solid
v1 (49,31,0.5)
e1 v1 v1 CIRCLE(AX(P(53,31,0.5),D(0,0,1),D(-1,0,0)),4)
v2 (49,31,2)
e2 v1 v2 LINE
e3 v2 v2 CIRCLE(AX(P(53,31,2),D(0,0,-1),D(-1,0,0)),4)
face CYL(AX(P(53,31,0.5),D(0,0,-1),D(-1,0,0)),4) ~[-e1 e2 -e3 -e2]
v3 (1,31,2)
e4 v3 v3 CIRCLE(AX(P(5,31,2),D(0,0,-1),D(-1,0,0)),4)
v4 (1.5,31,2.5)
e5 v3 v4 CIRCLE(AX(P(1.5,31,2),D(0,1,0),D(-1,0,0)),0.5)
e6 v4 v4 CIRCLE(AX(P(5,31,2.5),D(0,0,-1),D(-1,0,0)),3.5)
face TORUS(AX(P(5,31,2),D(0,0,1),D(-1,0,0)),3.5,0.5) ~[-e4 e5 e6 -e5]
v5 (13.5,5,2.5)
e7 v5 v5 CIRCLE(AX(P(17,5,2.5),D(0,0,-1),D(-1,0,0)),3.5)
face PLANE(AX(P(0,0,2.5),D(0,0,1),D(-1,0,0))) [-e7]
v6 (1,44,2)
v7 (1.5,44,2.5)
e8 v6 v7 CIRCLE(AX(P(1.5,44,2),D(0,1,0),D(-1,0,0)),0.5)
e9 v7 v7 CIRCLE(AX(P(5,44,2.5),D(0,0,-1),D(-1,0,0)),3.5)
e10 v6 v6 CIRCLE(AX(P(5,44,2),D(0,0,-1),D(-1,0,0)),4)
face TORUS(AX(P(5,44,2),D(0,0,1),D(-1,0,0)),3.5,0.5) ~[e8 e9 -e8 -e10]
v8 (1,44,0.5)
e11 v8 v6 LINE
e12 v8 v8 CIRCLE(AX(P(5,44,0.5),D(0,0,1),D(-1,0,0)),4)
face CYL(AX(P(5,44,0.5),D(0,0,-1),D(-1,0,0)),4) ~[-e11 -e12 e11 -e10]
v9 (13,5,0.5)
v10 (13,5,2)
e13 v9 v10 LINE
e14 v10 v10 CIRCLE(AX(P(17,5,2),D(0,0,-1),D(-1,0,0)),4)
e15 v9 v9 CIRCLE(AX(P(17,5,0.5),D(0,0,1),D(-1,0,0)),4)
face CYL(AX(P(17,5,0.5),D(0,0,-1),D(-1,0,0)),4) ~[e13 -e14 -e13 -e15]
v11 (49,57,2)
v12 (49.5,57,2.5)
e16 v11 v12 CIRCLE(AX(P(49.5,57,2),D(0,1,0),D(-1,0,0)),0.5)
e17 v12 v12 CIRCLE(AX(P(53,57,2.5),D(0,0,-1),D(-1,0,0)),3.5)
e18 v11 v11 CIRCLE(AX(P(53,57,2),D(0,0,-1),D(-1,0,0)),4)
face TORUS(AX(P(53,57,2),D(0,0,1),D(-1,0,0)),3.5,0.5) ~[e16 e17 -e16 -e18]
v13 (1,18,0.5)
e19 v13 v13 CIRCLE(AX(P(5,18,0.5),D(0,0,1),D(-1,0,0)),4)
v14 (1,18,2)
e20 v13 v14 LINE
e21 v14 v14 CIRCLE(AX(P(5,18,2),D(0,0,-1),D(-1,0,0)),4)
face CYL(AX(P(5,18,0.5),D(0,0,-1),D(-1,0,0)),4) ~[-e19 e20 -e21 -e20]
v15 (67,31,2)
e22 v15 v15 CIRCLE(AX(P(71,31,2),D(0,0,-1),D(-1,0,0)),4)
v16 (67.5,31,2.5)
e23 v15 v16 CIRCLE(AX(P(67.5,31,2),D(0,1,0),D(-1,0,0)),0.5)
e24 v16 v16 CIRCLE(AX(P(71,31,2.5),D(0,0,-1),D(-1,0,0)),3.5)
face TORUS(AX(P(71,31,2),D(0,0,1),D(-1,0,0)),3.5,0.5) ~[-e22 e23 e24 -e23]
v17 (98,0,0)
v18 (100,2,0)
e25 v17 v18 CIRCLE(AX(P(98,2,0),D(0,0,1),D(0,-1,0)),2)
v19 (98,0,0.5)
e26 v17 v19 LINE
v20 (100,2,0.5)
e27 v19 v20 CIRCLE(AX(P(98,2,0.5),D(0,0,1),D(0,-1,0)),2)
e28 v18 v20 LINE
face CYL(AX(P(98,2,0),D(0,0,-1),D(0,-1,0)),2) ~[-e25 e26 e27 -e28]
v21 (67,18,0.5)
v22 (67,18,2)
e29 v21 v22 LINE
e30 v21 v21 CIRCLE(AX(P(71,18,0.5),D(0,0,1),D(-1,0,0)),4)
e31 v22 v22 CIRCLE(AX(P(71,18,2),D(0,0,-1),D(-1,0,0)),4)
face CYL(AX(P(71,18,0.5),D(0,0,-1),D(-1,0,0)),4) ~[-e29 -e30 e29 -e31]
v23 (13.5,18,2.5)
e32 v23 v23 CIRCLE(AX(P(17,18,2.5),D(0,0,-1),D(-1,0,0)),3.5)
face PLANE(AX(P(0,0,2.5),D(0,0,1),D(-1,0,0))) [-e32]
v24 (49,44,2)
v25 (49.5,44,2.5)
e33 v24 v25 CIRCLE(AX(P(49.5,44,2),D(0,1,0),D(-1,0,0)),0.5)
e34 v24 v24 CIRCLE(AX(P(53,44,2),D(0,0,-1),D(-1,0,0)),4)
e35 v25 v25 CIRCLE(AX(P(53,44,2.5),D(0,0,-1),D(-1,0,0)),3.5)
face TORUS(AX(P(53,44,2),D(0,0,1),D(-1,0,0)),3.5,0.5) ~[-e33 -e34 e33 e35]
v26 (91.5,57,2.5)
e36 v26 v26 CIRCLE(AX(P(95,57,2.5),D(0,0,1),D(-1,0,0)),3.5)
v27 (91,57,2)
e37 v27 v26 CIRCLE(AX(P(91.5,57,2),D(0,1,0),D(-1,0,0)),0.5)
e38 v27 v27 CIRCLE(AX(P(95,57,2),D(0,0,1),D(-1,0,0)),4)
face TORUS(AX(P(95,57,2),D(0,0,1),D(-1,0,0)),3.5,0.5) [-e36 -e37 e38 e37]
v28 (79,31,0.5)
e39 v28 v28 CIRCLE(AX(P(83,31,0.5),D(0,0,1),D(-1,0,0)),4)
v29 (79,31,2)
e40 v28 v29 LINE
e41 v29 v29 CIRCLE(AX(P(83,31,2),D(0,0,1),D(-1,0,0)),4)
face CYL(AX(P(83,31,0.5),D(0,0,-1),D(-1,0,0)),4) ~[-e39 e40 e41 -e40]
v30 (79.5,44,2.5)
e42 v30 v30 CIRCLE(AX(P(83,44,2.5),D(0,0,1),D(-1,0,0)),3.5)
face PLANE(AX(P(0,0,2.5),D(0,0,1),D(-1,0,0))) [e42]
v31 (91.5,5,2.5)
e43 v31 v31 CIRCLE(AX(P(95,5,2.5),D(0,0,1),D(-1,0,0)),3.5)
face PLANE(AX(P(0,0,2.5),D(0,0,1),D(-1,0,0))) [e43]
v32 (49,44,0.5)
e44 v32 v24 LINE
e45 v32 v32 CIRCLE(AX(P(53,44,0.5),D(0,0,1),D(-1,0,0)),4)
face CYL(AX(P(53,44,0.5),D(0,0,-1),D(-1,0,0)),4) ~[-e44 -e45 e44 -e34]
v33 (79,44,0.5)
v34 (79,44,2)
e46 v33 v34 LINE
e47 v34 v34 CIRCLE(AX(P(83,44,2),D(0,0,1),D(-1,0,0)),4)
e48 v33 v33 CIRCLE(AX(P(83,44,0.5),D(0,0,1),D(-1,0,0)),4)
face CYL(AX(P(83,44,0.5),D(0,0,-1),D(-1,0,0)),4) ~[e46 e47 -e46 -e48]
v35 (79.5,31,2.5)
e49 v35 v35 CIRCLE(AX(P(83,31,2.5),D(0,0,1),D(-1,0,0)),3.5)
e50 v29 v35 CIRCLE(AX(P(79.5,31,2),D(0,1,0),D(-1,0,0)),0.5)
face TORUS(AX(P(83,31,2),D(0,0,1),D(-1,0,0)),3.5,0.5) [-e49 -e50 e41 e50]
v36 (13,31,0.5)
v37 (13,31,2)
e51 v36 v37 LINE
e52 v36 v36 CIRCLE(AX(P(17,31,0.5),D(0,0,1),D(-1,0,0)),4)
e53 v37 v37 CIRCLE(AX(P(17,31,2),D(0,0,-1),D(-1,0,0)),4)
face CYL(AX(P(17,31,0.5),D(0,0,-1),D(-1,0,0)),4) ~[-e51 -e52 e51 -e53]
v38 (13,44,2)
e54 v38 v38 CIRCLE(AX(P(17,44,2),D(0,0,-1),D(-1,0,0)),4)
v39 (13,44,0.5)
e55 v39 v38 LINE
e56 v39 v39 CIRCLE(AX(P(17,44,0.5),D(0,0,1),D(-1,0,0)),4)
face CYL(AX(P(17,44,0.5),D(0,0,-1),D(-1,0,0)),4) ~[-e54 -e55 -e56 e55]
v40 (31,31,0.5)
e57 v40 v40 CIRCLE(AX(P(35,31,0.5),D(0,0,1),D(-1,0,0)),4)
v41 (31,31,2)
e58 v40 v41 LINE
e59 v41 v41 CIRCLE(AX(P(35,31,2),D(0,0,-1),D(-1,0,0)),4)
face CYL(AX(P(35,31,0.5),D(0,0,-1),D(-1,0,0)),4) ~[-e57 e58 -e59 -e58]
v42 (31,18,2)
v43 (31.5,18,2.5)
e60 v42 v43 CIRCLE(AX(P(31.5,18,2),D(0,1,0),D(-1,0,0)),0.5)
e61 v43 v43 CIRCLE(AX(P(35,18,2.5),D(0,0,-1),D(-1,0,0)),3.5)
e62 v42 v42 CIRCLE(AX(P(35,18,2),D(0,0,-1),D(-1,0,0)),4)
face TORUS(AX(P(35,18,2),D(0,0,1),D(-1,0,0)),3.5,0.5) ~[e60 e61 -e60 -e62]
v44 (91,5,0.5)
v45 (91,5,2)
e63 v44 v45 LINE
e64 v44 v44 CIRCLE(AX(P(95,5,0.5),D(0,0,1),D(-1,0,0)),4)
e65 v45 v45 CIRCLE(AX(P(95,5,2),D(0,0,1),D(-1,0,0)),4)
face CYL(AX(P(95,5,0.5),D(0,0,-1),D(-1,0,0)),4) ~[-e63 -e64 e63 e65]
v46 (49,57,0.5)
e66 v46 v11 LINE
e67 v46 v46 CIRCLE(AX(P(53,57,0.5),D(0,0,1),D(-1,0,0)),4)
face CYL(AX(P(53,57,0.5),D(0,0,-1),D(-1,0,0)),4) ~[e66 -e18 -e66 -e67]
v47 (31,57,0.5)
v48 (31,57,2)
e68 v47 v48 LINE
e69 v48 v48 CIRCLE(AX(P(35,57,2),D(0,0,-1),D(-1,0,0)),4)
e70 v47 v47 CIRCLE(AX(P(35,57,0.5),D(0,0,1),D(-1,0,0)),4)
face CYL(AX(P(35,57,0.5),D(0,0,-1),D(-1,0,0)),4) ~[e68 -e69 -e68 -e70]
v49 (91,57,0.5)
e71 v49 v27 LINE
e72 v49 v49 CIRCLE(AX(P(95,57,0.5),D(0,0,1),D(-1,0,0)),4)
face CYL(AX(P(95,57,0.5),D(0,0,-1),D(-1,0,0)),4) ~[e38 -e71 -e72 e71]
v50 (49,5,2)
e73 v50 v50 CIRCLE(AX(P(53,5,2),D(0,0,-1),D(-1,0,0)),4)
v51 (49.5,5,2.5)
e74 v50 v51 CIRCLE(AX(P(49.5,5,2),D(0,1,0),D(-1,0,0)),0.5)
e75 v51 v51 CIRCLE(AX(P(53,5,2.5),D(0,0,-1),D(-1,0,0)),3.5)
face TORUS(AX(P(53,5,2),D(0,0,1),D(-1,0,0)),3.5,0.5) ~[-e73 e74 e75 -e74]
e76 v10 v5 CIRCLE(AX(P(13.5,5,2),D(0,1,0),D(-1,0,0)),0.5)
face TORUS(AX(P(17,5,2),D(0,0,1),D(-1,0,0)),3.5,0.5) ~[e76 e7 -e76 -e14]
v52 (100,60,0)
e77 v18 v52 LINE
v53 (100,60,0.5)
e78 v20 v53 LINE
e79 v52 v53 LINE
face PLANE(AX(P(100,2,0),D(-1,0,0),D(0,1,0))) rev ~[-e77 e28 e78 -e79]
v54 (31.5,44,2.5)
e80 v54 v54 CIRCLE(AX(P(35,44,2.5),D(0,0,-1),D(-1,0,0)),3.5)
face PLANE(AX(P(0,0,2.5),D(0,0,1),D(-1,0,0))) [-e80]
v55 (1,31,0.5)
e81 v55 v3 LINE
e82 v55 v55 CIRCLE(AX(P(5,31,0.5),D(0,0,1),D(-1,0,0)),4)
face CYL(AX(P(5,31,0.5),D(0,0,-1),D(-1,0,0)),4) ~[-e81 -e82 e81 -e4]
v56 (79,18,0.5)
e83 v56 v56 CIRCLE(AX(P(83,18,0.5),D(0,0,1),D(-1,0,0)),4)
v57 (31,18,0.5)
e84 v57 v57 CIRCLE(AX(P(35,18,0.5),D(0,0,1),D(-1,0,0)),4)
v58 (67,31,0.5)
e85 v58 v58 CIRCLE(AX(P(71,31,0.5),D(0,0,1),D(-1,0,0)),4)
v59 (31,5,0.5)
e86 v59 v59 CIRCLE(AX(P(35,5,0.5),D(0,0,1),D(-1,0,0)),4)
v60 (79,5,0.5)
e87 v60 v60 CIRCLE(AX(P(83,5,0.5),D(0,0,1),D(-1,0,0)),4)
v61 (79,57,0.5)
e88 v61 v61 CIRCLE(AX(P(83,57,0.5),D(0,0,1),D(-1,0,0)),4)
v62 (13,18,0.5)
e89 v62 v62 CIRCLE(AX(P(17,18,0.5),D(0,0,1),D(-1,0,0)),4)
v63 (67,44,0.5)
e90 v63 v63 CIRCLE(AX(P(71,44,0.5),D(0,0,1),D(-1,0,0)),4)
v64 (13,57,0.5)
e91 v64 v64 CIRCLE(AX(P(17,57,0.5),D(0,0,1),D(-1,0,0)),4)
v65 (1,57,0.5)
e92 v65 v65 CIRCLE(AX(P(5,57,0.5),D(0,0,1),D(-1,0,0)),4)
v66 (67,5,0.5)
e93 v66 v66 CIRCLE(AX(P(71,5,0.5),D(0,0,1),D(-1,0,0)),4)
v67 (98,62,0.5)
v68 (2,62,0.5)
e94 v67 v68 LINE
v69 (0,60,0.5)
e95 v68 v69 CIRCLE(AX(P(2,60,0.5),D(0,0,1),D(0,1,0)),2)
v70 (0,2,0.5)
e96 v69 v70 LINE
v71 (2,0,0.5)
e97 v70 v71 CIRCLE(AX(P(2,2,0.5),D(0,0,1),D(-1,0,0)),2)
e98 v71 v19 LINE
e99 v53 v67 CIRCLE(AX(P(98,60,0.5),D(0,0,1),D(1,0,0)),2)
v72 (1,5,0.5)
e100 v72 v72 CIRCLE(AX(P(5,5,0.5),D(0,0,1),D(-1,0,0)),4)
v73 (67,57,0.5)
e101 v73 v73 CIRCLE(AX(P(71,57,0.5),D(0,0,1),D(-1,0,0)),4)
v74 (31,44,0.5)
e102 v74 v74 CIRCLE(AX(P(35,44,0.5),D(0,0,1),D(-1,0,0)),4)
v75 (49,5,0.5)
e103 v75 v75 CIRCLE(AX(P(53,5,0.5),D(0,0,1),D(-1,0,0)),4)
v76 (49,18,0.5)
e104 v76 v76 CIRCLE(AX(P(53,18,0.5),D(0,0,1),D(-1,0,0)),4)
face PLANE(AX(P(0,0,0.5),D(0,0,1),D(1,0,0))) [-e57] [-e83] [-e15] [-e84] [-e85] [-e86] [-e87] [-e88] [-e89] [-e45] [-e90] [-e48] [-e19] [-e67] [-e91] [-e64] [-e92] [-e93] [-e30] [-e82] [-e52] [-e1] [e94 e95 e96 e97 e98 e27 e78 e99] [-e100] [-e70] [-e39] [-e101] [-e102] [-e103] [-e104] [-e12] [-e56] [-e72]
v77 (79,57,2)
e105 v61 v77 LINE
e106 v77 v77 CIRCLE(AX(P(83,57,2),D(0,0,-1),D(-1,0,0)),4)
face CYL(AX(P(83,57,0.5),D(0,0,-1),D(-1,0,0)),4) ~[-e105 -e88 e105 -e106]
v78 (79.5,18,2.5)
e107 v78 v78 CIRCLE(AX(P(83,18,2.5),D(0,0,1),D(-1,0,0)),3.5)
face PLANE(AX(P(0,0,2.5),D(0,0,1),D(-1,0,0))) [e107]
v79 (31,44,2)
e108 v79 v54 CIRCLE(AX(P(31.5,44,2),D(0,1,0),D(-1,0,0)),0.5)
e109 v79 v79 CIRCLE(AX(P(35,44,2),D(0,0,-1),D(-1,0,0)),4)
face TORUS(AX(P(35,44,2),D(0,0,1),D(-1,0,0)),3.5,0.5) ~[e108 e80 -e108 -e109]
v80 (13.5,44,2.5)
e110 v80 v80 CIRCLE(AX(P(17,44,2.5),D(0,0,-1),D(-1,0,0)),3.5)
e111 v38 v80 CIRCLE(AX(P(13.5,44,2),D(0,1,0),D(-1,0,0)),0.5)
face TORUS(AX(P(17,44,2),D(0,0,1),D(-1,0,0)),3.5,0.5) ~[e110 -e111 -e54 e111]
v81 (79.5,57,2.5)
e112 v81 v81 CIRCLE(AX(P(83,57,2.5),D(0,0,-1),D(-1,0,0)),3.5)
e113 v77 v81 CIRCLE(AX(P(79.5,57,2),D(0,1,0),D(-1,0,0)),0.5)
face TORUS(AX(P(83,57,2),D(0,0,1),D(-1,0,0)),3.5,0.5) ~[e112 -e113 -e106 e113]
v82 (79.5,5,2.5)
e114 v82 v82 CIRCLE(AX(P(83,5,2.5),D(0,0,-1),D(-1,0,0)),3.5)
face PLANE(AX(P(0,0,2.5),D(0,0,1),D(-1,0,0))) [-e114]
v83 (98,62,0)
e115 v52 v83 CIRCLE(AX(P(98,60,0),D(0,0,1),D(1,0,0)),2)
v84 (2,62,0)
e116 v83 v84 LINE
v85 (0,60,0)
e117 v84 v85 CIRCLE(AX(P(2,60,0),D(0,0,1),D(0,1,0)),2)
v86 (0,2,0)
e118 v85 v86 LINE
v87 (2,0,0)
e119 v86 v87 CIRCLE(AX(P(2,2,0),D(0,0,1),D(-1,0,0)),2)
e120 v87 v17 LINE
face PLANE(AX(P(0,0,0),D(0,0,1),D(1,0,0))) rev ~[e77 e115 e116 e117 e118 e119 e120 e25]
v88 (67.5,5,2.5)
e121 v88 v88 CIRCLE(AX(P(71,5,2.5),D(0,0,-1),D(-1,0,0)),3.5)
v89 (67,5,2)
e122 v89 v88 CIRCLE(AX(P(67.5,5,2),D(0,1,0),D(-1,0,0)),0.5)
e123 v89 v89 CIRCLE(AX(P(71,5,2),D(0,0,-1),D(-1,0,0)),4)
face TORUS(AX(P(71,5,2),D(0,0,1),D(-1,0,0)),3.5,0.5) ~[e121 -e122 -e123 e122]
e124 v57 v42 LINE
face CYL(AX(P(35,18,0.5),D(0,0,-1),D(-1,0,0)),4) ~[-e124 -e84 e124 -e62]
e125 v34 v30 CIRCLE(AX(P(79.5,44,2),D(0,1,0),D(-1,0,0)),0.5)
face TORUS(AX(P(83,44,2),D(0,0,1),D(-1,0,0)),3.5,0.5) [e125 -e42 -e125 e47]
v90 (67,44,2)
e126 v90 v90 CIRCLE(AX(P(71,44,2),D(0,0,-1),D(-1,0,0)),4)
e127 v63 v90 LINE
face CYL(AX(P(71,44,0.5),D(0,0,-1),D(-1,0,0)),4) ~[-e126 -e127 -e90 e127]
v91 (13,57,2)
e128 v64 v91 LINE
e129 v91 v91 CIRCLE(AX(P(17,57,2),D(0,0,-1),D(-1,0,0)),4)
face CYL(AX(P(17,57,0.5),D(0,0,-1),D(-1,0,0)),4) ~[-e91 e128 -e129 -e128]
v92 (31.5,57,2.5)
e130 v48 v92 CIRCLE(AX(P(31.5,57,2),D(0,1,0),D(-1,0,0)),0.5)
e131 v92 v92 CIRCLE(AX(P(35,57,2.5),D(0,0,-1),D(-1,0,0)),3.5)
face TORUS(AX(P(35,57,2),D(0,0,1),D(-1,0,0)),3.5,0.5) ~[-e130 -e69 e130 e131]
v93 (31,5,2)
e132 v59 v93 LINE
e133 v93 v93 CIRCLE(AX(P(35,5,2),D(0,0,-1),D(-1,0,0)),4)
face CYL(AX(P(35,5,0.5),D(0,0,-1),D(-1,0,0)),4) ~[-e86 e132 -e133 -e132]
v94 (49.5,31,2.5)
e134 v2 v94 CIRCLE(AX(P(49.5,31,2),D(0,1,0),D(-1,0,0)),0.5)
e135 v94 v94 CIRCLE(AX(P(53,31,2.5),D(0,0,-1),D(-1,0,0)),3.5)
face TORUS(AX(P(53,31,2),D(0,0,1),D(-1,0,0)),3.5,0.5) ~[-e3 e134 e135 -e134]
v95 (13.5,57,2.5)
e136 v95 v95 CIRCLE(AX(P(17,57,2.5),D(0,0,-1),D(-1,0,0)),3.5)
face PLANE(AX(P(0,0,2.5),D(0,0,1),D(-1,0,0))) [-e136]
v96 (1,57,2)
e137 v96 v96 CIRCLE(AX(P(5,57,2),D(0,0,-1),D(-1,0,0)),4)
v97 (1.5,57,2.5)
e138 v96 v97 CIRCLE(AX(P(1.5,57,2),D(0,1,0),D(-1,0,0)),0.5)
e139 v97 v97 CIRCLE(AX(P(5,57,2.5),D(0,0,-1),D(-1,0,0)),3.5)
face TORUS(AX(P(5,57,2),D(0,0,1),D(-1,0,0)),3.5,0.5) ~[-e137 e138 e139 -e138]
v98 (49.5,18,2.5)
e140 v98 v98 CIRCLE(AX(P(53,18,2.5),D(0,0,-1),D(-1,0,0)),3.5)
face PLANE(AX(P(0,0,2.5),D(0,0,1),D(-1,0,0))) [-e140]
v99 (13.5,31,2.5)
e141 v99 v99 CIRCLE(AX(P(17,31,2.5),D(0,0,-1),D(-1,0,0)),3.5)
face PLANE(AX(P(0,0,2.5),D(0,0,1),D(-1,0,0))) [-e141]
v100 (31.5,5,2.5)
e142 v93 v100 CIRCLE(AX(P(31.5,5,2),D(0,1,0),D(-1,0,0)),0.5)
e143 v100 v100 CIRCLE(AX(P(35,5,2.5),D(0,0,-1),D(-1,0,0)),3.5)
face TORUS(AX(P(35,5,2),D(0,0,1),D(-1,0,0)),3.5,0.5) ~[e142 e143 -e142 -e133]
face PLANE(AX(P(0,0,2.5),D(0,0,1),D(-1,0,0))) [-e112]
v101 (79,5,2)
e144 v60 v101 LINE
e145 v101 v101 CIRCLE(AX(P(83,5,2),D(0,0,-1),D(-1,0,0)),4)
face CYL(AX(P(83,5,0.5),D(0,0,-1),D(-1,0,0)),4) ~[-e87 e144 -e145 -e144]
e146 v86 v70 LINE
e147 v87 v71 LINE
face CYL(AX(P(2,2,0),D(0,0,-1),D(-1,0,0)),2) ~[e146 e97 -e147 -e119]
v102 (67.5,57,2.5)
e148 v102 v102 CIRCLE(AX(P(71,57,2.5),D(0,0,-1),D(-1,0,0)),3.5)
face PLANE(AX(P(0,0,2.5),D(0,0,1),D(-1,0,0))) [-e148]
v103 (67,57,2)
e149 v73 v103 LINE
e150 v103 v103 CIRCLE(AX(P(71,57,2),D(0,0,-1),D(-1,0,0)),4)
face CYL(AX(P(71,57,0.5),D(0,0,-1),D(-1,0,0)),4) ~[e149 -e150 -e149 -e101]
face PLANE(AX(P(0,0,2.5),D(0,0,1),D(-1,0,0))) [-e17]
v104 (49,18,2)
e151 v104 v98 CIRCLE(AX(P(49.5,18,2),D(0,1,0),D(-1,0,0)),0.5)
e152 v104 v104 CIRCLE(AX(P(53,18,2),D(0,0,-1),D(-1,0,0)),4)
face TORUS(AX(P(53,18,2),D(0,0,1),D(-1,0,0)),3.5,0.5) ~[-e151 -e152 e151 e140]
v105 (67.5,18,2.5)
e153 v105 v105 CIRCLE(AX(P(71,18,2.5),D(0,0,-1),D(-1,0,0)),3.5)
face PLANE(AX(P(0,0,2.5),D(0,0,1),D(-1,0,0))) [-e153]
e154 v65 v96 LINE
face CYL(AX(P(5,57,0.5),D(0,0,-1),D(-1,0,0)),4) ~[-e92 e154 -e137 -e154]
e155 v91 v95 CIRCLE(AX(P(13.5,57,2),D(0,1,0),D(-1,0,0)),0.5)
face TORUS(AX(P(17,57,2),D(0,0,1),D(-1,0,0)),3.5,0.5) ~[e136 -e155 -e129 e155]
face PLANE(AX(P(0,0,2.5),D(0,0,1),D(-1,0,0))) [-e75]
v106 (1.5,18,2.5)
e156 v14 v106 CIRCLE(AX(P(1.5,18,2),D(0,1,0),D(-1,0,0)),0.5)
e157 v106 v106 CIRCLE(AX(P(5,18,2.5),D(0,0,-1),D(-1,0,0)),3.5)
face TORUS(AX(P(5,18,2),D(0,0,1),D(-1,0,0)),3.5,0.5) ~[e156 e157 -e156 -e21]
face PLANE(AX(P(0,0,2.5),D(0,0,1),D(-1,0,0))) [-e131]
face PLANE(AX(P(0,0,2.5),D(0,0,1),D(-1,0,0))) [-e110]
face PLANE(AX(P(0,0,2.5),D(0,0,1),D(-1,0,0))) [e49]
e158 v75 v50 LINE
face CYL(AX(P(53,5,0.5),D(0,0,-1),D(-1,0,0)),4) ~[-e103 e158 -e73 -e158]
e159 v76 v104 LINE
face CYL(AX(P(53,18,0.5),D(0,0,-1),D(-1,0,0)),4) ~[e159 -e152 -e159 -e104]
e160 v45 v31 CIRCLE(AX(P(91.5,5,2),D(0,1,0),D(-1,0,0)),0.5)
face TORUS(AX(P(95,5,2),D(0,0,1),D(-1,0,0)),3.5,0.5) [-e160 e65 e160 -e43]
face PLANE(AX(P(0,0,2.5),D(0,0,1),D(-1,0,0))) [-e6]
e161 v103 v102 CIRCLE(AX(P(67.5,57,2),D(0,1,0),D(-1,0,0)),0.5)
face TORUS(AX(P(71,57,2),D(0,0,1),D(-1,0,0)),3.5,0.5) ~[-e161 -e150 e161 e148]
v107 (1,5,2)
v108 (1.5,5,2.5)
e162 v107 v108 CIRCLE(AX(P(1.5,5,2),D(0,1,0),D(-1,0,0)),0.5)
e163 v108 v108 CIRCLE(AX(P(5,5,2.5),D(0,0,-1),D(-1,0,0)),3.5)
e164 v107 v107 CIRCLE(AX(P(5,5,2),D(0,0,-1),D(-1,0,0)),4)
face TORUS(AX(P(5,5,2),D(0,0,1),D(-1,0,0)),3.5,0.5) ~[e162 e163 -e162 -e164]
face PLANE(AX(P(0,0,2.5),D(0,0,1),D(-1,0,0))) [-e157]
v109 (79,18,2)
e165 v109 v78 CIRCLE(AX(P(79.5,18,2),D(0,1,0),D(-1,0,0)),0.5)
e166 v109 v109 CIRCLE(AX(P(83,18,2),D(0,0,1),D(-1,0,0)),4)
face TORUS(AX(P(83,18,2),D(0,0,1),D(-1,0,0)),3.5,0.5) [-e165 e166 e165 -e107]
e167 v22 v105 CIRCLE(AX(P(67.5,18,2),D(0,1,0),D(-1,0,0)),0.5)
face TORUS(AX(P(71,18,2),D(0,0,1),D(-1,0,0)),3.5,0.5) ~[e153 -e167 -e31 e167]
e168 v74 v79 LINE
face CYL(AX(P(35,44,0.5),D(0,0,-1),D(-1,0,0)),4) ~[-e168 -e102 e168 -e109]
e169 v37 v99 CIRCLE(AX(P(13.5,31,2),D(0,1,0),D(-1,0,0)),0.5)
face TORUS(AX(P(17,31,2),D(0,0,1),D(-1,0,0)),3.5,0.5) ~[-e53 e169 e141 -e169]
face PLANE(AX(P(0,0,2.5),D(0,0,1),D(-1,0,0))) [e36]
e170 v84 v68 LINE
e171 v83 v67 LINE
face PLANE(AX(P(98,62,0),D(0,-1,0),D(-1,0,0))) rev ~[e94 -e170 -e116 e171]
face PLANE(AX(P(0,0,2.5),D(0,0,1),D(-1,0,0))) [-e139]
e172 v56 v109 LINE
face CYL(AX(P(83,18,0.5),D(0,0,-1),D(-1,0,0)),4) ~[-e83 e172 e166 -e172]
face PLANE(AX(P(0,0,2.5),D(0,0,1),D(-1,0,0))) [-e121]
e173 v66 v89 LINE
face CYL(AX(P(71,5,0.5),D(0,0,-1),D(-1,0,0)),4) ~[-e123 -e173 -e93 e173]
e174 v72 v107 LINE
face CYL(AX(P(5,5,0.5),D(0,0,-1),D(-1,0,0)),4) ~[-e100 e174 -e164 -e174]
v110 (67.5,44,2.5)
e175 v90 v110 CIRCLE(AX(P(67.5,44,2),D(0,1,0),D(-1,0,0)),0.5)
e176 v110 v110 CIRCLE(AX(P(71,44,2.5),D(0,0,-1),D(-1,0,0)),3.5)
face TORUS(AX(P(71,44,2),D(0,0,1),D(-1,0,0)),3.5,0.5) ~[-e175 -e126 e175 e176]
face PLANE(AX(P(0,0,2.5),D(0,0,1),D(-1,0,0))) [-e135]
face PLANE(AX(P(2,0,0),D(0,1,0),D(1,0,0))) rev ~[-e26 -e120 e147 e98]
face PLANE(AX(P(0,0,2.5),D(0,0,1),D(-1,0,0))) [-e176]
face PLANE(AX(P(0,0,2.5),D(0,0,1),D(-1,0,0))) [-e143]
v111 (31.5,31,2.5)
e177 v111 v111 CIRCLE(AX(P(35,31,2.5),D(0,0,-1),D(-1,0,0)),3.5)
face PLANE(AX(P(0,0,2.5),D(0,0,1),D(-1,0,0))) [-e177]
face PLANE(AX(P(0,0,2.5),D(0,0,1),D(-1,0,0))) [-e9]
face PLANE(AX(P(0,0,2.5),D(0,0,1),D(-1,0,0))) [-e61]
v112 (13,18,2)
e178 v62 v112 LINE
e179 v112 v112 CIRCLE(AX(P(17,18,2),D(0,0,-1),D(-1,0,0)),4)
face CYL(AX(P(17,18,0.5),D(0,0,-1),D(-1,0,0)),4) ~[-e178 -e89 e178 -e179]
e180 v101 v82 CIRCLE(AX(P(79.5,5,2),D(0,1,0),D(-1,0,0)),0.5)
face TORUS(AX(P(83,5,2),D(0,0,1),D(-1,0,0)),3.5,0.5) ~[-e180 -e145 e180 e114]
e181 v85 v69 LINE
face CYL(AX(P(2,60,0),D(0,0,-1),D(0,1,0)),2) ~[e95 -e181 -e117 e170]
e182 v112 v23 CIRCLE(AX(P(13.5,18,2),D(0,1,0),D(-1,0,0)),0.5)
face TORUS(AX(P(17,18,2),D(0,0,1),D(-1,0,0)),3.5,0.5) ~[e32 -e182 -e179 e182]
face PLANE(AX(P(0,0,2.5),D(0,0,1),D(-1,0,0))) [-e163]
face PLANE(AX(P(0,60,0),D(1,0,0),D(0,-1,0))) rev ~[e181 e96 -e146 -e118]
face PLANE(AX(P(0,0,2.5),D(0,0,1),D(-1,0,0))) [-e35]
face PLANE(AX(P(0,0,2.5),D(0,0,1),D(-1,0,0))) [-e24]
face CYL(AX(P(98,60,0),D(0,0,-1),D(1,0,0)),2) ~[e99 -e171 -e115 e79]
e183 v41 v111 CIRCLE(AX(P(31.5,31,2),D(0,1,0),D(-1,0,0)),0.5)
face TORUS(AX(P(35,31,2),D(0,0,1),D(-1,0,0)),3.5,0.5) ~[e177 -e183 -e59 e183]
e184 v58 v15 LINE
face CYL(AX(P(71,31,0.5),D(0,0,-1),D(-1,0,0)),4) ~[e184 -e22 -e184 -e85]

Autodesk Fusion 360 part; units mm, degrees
sketch "Sketch1" plane through (0, 0, 0) normal (0, 0, 1) x (1, 0, 0)
  line L0 (2, 0) -> (98, 0)
  line L1 (100, 2) -> (100, 60)
  line L2 (98, 62) -> (2, 62)
  line L3 (0, 60) -> (0, 2)
  arc A0 (2, 62) -> (0, 60) centre (2, 60) ccw
  arc A1 (100, 60) -> (98, 62) centre (98, 60) ccw
  arc A2 (98, 0) -> (100, 2) centre (98, 2) ccw
  arc A3 (0, 2) -> (2, 0) centre (2, 2) ccw
  point P0 (100, 0)
  point P1 (0, 62)
  dimension "d1" = 100
  dimension "d2" = 62
  dimension "d3" = 2
extrude "Extrude1" add sketch "Sketch1" along normal blind 0.5
sketch "Sketch2" plane through (0, 0, 0.5) normal (0, 0, 1) x (-1, 0, 0)
  arc A0 (0, -2) -> (-2, 0) centre (-2, -2) ccw
  line L0 (-2, 0) -> (-98, 0)
  arc A1 (-98, 0) -> (-100, -2) centre (-98, -2) ccw
  line L1 (-100, -2) -> (-100, -60)
  arc A2 (-100, -60) -> (-98, -62) centre (-98, -60) ccw
  line L2 (-98, -62) -> (-2, -62)
  arc A3 (-2, -62) -> (0, -60) centre (-2, -60) ccw
  line L3 (0, -60) -> (0, -2)
  line L4 (-5, -44) -> (-76.5418, -44)
  line L5 (-5, -44) -> (-17, -44)
  circle A4 centre (-5, -44) radius 4
  circle A5 centre (-17, -44) radius 4
  line L6 (-17, -44) -> (-35, -44)
  circle A6 centre (-35, -44) radius 4
  line L7 (-35, -44) -> (-40.411, -44)
  line L8 (-35, -44) -> (-53, -44)
  circle A7 centre (-53, -44) radius 4
  line L9 (-53, -44) -> (-59.411, -44)
  line L10 (-53, -44) -> (-71, -44)
  circle A8 centre (-71, -44) radius 4
  line L11 (-71, -44) -> (-83, -44)
  circle A9 centre (-83, -44) radius 4
  line L12 (-5, -44) -> (-5, -57)
  line L13 (-5, -57) -> (-79.7487, -57)
  circle A10 centre (-5, -57) radius 4
  line L14 (-5, -57) -> (-17, -57)
  line L15 (-17, -57) -> (-35, -57)
  line L16 (-35, -57) -> (-53, -57)
  line L17 (-53, -57) -> (-71, -57)
  line L18 (-71, -57) -> (-83, -57)
  circle A11 centre (-17, -57) radius 4
  circle A12 centre (-35, -57) radius 4
  circle A13 centre (-53, -57) radius 4
  circle A14 centre (-71, -57) radius 4
  circle A15 centre (-83, -57) radius 4
  line L19 (-5, -44) -> (-5, -31)
  line L20 (-5, -31) -> (-5, -18)
  circle A16 centre (-5, -31) radius 4
  circle A17 centre (-5, -18) radius 4
  line L21 (-5, -18) -> (-5, -5)
  circle A18 centre (-5, -5) radius 4
  line L22 (-5, -31) -> (-6.411, -31)
  line L23 (-6.411, -31) -> (-80.411, -31)
  line L24 (-5, -18) -> (-79.9028, -18)
  line L25 (-5, -5) -> (-79.411, -5)
  line L26 (-5, -31) -> (-17, -31)
  line L27 (-5, -18) -> (-17, -18)
  line L28 (-17, -31) -> (-17.411, -31)
  line L29 (-17, -31) -> (-35, -31)
  line L30 (-35, -31) -> (-53, -31)
  line L31 (-53, -31) -> (-71, -31)
  line L32 (-71, -31) -> (-83, -31)
  line L33 (-17, -18) -> (-35, -18)
  line L34 (-35, -18) -> (-53, -18)
  line L35 (-53, -18) -> (-71, -18)
  line L36 (-71, -18) -> (-83, -18)
  line L37 (-5, -5) -> (-17, -5)
  line L38 (-17, -5) -> (-35, -5)
  line L39 (-35, -5) -> (-53, -5)
  line L40 (-53, -5) -> (-71, -5)
  line L41 (-71, -5) -> (-83, -5)
  circle A19 centre (-17, -31) radius 4
  circle A20 centre (-35, -31) radius 4
  circle A21 centre (-53, -31) radius 4
  circle A22 centre (-71, -31) radius 4
  circle A23 centre (-83, -31) radius 4
  circle A24 centre (-83, -18) radius 4
  circle A25 centre (-71, -18) radius 4
  circle A26 centre (-53, -18) radius 4
  circle A27 centre (-35, -18) radius 4
  circle A28 centre (-17, -18) radius 4
  circle A29 centre (-17, -5) radius 4
  circle A30 centre (-35, -5) radius 4
  circle A31 centre (-53, -5) radius 4
  circle A32 centre (-71, -5) radius 4
  circle A33 centre (-83, -5) radius 4
  line L42 (-83, -5) -> (-95, -5)
  circle A34 centre (-95, -5) radius 4
  line L43 (-79.7487, -57) -> (-80, -57)
  line L44 (-83, -57) -> (-95, -57)
  circle A35 centre (-95, -57) radius 4
  dimension "d6" = 12
  dimension "d7" = 8
  dimension "d8" = 8
  dimension "d9" = 18
  dimension "d10" = 8
  dimension "d11" = 18
  dimension "d12" = 8
  dimension "d13" = 18
  dimension "d14" = 8
  dimension "d15" = 12
  dimension "d16" = 8
  dimension "d17" = 13
  dimension "d18" = 8
  dimension "d19" = 12
  dimension "d20" = 18
  dimension "d21" = 18
  dimension "d22" = 18
  dimension "d23" = 12
  dimension "d24" = 8
  dimension "d25" = 8
  dimension "d26" = 8
  dimension "d27" = 8
  dimension "d28" = 8
  dimension "d29" = 13
  dimension "d30" = 13
  dimension "d31" = 8
  dimension "d32" = 8
  dimension "d33" = 13
  dimension "d34" = 8
  dimension "d35" = 12
  dimension "d36" = 12
  dimension "d37" = 18
  dimension "d38" = 18
  dimension "d39" = 18
  dimension "d40" = 12
  dimension "d41" = 18
  dimension "d42" = 18
  dimension "d43" = 18
  dimension "d44" = 12
  dimension "d45" = 12
  dimension "d46" = 18
  dimension "d47" = 18
  dimension "d48" = 18
  dimension "d49" = 12
  dimension "d50" = 8
  dimension "d51" = 8
  dimension "d52" = 8
  dimension "d53" = 8
  dimension "d54" = 8
  dimension "d55" = 8
  dimension "d56" = 8
  dimension "d57" = 8
  dimension "d58" = 8
  dimension "d59" = 8
  dimension "d60" = 8
  dimension "d61" = 8
  dimension "d62" = 8
  dimension "d63" = 8
  dimension "d64" = 8
  dimension "d65" = 12
  dimension "d66" = 8
  dimension "d67" = 5
  dimension "d68" = 5
  dimension "d76" = 12
  dimension "d77" = 8
extrude "Extrude2" add sketch "Sketch2" along normal blind 2 contours L4 L5 A5 L6 | A23 | L23 L31 L32 A22 | L23 L31 L32 A22 | L23 L30 L31 A21 | L23 L30 L31 A21 | L23 L29 L30 A20 | L23 L29 L30 A20 | L23 L26 L28 L29 A19 | L23 L26 L28 L29 A19 | A24 | L24 L35 L36 A25 | L24 L35 L36 A25 | L24 L34 L35 A26 | L24 L34 L35 A26 | L24 L33 L34 A27 | L24 L33 L34 A27 | L24 L27 L33 A28 | L24 L27 L33 A28 | A34 | L25 L41 A33 L42 | L25 L41 A33 L42 | L25 L40 L41 A32 | L25 L40 L41 A32 | L25 L39 L40 A31 | L25 L39 L40 A31 | L25 L38 L39 A30 | L25 L38 L39 A30 | L25 L37 L38 A29 | L25 L37 L38 A29 | L21 A18 L25 L37 | L21 A18 L25 L37 | L20 A17 L24 L27 | L20 A17 L21 | L19 A16 L22 L23 L26 | L19 L20 A16 | A35 | L13 L18 A15 L43 L44 | L13 L18 A15 L43 L44 | L13 L17 L18 A14 | L13 L17 L18 A14 | L13 L16 L17 A13 | L13 L16 L17 A13 | L13 L15 L16 A12 | L13 L15 L16 A12 | L13 L14 L15 A11 | L13 L14 L15 A11 | L12 L13 A10 L14 | L12 L13 A10 L14 | L4 L5 A4 L19 | L4 L5 A4 L12 | L4 L5 A5 L6 | A9 | L4 L10 A8 L11 | L4 L10 A8 L11 | L4 L8 A7 L9 L10 | L4 L8 A7 L9 L10 | L4 L6 A6 L7 L8 | L4 L6 A6 L7 L8 | A4 L12 L19 | L20 A16 L22 L23 L26 | A17 L21 L24 L27
fillet "Fillet1" radius 0.5 32 edges at (8.7293, 58.4465, 2.5) (20.7293, 58.4465, 2.5) (38.7293, 58.4465, 2.5) (74.7293, 58.4465, 2.5) (56.7293, 58.4465, 2.5) (86.7293, 58.4465, 2.5) (86.7293, 45.4465, 2.5) (74.7293, 45.4465, 2.5) (56.7293, 45.4465, 2.5) (56.7293, 32.4465, 2.5) (74.7293, 32.4465, 2.5) (86.7293, 32.4465, 2.5) (86.7293, 19.4465, 2.5) (74.7293, 19.4465, 2.5) (86.7293, 6.4465, 2.5) (98.7293, 6.4465, 2.5) (74.7293, 6.4465, 2.5) (56.7293, 19.4465, 2.5) (56.7293, 6.4465, 2.5) (38.7293, 45.4465, 2.5) (38.7293, 32.4465, 2.5) (38.7293, 19.4465, 2.5) (38.7293, 6.4465, 2.5) (20.7293, 6.4465, 2.5) (20.7293, 19.4465, 2.5) (20.7293, 32.4465, 2.5) (20.7293, 45.4465, 2.5) (8.7293, 45.4465, 2.5) (8.7293, 32.4465, 2.5) (8.7293, 19.4465, 2.5) (8.7293, 6.4465, 2.5) (98.7293, 58.4465, 2.5)
